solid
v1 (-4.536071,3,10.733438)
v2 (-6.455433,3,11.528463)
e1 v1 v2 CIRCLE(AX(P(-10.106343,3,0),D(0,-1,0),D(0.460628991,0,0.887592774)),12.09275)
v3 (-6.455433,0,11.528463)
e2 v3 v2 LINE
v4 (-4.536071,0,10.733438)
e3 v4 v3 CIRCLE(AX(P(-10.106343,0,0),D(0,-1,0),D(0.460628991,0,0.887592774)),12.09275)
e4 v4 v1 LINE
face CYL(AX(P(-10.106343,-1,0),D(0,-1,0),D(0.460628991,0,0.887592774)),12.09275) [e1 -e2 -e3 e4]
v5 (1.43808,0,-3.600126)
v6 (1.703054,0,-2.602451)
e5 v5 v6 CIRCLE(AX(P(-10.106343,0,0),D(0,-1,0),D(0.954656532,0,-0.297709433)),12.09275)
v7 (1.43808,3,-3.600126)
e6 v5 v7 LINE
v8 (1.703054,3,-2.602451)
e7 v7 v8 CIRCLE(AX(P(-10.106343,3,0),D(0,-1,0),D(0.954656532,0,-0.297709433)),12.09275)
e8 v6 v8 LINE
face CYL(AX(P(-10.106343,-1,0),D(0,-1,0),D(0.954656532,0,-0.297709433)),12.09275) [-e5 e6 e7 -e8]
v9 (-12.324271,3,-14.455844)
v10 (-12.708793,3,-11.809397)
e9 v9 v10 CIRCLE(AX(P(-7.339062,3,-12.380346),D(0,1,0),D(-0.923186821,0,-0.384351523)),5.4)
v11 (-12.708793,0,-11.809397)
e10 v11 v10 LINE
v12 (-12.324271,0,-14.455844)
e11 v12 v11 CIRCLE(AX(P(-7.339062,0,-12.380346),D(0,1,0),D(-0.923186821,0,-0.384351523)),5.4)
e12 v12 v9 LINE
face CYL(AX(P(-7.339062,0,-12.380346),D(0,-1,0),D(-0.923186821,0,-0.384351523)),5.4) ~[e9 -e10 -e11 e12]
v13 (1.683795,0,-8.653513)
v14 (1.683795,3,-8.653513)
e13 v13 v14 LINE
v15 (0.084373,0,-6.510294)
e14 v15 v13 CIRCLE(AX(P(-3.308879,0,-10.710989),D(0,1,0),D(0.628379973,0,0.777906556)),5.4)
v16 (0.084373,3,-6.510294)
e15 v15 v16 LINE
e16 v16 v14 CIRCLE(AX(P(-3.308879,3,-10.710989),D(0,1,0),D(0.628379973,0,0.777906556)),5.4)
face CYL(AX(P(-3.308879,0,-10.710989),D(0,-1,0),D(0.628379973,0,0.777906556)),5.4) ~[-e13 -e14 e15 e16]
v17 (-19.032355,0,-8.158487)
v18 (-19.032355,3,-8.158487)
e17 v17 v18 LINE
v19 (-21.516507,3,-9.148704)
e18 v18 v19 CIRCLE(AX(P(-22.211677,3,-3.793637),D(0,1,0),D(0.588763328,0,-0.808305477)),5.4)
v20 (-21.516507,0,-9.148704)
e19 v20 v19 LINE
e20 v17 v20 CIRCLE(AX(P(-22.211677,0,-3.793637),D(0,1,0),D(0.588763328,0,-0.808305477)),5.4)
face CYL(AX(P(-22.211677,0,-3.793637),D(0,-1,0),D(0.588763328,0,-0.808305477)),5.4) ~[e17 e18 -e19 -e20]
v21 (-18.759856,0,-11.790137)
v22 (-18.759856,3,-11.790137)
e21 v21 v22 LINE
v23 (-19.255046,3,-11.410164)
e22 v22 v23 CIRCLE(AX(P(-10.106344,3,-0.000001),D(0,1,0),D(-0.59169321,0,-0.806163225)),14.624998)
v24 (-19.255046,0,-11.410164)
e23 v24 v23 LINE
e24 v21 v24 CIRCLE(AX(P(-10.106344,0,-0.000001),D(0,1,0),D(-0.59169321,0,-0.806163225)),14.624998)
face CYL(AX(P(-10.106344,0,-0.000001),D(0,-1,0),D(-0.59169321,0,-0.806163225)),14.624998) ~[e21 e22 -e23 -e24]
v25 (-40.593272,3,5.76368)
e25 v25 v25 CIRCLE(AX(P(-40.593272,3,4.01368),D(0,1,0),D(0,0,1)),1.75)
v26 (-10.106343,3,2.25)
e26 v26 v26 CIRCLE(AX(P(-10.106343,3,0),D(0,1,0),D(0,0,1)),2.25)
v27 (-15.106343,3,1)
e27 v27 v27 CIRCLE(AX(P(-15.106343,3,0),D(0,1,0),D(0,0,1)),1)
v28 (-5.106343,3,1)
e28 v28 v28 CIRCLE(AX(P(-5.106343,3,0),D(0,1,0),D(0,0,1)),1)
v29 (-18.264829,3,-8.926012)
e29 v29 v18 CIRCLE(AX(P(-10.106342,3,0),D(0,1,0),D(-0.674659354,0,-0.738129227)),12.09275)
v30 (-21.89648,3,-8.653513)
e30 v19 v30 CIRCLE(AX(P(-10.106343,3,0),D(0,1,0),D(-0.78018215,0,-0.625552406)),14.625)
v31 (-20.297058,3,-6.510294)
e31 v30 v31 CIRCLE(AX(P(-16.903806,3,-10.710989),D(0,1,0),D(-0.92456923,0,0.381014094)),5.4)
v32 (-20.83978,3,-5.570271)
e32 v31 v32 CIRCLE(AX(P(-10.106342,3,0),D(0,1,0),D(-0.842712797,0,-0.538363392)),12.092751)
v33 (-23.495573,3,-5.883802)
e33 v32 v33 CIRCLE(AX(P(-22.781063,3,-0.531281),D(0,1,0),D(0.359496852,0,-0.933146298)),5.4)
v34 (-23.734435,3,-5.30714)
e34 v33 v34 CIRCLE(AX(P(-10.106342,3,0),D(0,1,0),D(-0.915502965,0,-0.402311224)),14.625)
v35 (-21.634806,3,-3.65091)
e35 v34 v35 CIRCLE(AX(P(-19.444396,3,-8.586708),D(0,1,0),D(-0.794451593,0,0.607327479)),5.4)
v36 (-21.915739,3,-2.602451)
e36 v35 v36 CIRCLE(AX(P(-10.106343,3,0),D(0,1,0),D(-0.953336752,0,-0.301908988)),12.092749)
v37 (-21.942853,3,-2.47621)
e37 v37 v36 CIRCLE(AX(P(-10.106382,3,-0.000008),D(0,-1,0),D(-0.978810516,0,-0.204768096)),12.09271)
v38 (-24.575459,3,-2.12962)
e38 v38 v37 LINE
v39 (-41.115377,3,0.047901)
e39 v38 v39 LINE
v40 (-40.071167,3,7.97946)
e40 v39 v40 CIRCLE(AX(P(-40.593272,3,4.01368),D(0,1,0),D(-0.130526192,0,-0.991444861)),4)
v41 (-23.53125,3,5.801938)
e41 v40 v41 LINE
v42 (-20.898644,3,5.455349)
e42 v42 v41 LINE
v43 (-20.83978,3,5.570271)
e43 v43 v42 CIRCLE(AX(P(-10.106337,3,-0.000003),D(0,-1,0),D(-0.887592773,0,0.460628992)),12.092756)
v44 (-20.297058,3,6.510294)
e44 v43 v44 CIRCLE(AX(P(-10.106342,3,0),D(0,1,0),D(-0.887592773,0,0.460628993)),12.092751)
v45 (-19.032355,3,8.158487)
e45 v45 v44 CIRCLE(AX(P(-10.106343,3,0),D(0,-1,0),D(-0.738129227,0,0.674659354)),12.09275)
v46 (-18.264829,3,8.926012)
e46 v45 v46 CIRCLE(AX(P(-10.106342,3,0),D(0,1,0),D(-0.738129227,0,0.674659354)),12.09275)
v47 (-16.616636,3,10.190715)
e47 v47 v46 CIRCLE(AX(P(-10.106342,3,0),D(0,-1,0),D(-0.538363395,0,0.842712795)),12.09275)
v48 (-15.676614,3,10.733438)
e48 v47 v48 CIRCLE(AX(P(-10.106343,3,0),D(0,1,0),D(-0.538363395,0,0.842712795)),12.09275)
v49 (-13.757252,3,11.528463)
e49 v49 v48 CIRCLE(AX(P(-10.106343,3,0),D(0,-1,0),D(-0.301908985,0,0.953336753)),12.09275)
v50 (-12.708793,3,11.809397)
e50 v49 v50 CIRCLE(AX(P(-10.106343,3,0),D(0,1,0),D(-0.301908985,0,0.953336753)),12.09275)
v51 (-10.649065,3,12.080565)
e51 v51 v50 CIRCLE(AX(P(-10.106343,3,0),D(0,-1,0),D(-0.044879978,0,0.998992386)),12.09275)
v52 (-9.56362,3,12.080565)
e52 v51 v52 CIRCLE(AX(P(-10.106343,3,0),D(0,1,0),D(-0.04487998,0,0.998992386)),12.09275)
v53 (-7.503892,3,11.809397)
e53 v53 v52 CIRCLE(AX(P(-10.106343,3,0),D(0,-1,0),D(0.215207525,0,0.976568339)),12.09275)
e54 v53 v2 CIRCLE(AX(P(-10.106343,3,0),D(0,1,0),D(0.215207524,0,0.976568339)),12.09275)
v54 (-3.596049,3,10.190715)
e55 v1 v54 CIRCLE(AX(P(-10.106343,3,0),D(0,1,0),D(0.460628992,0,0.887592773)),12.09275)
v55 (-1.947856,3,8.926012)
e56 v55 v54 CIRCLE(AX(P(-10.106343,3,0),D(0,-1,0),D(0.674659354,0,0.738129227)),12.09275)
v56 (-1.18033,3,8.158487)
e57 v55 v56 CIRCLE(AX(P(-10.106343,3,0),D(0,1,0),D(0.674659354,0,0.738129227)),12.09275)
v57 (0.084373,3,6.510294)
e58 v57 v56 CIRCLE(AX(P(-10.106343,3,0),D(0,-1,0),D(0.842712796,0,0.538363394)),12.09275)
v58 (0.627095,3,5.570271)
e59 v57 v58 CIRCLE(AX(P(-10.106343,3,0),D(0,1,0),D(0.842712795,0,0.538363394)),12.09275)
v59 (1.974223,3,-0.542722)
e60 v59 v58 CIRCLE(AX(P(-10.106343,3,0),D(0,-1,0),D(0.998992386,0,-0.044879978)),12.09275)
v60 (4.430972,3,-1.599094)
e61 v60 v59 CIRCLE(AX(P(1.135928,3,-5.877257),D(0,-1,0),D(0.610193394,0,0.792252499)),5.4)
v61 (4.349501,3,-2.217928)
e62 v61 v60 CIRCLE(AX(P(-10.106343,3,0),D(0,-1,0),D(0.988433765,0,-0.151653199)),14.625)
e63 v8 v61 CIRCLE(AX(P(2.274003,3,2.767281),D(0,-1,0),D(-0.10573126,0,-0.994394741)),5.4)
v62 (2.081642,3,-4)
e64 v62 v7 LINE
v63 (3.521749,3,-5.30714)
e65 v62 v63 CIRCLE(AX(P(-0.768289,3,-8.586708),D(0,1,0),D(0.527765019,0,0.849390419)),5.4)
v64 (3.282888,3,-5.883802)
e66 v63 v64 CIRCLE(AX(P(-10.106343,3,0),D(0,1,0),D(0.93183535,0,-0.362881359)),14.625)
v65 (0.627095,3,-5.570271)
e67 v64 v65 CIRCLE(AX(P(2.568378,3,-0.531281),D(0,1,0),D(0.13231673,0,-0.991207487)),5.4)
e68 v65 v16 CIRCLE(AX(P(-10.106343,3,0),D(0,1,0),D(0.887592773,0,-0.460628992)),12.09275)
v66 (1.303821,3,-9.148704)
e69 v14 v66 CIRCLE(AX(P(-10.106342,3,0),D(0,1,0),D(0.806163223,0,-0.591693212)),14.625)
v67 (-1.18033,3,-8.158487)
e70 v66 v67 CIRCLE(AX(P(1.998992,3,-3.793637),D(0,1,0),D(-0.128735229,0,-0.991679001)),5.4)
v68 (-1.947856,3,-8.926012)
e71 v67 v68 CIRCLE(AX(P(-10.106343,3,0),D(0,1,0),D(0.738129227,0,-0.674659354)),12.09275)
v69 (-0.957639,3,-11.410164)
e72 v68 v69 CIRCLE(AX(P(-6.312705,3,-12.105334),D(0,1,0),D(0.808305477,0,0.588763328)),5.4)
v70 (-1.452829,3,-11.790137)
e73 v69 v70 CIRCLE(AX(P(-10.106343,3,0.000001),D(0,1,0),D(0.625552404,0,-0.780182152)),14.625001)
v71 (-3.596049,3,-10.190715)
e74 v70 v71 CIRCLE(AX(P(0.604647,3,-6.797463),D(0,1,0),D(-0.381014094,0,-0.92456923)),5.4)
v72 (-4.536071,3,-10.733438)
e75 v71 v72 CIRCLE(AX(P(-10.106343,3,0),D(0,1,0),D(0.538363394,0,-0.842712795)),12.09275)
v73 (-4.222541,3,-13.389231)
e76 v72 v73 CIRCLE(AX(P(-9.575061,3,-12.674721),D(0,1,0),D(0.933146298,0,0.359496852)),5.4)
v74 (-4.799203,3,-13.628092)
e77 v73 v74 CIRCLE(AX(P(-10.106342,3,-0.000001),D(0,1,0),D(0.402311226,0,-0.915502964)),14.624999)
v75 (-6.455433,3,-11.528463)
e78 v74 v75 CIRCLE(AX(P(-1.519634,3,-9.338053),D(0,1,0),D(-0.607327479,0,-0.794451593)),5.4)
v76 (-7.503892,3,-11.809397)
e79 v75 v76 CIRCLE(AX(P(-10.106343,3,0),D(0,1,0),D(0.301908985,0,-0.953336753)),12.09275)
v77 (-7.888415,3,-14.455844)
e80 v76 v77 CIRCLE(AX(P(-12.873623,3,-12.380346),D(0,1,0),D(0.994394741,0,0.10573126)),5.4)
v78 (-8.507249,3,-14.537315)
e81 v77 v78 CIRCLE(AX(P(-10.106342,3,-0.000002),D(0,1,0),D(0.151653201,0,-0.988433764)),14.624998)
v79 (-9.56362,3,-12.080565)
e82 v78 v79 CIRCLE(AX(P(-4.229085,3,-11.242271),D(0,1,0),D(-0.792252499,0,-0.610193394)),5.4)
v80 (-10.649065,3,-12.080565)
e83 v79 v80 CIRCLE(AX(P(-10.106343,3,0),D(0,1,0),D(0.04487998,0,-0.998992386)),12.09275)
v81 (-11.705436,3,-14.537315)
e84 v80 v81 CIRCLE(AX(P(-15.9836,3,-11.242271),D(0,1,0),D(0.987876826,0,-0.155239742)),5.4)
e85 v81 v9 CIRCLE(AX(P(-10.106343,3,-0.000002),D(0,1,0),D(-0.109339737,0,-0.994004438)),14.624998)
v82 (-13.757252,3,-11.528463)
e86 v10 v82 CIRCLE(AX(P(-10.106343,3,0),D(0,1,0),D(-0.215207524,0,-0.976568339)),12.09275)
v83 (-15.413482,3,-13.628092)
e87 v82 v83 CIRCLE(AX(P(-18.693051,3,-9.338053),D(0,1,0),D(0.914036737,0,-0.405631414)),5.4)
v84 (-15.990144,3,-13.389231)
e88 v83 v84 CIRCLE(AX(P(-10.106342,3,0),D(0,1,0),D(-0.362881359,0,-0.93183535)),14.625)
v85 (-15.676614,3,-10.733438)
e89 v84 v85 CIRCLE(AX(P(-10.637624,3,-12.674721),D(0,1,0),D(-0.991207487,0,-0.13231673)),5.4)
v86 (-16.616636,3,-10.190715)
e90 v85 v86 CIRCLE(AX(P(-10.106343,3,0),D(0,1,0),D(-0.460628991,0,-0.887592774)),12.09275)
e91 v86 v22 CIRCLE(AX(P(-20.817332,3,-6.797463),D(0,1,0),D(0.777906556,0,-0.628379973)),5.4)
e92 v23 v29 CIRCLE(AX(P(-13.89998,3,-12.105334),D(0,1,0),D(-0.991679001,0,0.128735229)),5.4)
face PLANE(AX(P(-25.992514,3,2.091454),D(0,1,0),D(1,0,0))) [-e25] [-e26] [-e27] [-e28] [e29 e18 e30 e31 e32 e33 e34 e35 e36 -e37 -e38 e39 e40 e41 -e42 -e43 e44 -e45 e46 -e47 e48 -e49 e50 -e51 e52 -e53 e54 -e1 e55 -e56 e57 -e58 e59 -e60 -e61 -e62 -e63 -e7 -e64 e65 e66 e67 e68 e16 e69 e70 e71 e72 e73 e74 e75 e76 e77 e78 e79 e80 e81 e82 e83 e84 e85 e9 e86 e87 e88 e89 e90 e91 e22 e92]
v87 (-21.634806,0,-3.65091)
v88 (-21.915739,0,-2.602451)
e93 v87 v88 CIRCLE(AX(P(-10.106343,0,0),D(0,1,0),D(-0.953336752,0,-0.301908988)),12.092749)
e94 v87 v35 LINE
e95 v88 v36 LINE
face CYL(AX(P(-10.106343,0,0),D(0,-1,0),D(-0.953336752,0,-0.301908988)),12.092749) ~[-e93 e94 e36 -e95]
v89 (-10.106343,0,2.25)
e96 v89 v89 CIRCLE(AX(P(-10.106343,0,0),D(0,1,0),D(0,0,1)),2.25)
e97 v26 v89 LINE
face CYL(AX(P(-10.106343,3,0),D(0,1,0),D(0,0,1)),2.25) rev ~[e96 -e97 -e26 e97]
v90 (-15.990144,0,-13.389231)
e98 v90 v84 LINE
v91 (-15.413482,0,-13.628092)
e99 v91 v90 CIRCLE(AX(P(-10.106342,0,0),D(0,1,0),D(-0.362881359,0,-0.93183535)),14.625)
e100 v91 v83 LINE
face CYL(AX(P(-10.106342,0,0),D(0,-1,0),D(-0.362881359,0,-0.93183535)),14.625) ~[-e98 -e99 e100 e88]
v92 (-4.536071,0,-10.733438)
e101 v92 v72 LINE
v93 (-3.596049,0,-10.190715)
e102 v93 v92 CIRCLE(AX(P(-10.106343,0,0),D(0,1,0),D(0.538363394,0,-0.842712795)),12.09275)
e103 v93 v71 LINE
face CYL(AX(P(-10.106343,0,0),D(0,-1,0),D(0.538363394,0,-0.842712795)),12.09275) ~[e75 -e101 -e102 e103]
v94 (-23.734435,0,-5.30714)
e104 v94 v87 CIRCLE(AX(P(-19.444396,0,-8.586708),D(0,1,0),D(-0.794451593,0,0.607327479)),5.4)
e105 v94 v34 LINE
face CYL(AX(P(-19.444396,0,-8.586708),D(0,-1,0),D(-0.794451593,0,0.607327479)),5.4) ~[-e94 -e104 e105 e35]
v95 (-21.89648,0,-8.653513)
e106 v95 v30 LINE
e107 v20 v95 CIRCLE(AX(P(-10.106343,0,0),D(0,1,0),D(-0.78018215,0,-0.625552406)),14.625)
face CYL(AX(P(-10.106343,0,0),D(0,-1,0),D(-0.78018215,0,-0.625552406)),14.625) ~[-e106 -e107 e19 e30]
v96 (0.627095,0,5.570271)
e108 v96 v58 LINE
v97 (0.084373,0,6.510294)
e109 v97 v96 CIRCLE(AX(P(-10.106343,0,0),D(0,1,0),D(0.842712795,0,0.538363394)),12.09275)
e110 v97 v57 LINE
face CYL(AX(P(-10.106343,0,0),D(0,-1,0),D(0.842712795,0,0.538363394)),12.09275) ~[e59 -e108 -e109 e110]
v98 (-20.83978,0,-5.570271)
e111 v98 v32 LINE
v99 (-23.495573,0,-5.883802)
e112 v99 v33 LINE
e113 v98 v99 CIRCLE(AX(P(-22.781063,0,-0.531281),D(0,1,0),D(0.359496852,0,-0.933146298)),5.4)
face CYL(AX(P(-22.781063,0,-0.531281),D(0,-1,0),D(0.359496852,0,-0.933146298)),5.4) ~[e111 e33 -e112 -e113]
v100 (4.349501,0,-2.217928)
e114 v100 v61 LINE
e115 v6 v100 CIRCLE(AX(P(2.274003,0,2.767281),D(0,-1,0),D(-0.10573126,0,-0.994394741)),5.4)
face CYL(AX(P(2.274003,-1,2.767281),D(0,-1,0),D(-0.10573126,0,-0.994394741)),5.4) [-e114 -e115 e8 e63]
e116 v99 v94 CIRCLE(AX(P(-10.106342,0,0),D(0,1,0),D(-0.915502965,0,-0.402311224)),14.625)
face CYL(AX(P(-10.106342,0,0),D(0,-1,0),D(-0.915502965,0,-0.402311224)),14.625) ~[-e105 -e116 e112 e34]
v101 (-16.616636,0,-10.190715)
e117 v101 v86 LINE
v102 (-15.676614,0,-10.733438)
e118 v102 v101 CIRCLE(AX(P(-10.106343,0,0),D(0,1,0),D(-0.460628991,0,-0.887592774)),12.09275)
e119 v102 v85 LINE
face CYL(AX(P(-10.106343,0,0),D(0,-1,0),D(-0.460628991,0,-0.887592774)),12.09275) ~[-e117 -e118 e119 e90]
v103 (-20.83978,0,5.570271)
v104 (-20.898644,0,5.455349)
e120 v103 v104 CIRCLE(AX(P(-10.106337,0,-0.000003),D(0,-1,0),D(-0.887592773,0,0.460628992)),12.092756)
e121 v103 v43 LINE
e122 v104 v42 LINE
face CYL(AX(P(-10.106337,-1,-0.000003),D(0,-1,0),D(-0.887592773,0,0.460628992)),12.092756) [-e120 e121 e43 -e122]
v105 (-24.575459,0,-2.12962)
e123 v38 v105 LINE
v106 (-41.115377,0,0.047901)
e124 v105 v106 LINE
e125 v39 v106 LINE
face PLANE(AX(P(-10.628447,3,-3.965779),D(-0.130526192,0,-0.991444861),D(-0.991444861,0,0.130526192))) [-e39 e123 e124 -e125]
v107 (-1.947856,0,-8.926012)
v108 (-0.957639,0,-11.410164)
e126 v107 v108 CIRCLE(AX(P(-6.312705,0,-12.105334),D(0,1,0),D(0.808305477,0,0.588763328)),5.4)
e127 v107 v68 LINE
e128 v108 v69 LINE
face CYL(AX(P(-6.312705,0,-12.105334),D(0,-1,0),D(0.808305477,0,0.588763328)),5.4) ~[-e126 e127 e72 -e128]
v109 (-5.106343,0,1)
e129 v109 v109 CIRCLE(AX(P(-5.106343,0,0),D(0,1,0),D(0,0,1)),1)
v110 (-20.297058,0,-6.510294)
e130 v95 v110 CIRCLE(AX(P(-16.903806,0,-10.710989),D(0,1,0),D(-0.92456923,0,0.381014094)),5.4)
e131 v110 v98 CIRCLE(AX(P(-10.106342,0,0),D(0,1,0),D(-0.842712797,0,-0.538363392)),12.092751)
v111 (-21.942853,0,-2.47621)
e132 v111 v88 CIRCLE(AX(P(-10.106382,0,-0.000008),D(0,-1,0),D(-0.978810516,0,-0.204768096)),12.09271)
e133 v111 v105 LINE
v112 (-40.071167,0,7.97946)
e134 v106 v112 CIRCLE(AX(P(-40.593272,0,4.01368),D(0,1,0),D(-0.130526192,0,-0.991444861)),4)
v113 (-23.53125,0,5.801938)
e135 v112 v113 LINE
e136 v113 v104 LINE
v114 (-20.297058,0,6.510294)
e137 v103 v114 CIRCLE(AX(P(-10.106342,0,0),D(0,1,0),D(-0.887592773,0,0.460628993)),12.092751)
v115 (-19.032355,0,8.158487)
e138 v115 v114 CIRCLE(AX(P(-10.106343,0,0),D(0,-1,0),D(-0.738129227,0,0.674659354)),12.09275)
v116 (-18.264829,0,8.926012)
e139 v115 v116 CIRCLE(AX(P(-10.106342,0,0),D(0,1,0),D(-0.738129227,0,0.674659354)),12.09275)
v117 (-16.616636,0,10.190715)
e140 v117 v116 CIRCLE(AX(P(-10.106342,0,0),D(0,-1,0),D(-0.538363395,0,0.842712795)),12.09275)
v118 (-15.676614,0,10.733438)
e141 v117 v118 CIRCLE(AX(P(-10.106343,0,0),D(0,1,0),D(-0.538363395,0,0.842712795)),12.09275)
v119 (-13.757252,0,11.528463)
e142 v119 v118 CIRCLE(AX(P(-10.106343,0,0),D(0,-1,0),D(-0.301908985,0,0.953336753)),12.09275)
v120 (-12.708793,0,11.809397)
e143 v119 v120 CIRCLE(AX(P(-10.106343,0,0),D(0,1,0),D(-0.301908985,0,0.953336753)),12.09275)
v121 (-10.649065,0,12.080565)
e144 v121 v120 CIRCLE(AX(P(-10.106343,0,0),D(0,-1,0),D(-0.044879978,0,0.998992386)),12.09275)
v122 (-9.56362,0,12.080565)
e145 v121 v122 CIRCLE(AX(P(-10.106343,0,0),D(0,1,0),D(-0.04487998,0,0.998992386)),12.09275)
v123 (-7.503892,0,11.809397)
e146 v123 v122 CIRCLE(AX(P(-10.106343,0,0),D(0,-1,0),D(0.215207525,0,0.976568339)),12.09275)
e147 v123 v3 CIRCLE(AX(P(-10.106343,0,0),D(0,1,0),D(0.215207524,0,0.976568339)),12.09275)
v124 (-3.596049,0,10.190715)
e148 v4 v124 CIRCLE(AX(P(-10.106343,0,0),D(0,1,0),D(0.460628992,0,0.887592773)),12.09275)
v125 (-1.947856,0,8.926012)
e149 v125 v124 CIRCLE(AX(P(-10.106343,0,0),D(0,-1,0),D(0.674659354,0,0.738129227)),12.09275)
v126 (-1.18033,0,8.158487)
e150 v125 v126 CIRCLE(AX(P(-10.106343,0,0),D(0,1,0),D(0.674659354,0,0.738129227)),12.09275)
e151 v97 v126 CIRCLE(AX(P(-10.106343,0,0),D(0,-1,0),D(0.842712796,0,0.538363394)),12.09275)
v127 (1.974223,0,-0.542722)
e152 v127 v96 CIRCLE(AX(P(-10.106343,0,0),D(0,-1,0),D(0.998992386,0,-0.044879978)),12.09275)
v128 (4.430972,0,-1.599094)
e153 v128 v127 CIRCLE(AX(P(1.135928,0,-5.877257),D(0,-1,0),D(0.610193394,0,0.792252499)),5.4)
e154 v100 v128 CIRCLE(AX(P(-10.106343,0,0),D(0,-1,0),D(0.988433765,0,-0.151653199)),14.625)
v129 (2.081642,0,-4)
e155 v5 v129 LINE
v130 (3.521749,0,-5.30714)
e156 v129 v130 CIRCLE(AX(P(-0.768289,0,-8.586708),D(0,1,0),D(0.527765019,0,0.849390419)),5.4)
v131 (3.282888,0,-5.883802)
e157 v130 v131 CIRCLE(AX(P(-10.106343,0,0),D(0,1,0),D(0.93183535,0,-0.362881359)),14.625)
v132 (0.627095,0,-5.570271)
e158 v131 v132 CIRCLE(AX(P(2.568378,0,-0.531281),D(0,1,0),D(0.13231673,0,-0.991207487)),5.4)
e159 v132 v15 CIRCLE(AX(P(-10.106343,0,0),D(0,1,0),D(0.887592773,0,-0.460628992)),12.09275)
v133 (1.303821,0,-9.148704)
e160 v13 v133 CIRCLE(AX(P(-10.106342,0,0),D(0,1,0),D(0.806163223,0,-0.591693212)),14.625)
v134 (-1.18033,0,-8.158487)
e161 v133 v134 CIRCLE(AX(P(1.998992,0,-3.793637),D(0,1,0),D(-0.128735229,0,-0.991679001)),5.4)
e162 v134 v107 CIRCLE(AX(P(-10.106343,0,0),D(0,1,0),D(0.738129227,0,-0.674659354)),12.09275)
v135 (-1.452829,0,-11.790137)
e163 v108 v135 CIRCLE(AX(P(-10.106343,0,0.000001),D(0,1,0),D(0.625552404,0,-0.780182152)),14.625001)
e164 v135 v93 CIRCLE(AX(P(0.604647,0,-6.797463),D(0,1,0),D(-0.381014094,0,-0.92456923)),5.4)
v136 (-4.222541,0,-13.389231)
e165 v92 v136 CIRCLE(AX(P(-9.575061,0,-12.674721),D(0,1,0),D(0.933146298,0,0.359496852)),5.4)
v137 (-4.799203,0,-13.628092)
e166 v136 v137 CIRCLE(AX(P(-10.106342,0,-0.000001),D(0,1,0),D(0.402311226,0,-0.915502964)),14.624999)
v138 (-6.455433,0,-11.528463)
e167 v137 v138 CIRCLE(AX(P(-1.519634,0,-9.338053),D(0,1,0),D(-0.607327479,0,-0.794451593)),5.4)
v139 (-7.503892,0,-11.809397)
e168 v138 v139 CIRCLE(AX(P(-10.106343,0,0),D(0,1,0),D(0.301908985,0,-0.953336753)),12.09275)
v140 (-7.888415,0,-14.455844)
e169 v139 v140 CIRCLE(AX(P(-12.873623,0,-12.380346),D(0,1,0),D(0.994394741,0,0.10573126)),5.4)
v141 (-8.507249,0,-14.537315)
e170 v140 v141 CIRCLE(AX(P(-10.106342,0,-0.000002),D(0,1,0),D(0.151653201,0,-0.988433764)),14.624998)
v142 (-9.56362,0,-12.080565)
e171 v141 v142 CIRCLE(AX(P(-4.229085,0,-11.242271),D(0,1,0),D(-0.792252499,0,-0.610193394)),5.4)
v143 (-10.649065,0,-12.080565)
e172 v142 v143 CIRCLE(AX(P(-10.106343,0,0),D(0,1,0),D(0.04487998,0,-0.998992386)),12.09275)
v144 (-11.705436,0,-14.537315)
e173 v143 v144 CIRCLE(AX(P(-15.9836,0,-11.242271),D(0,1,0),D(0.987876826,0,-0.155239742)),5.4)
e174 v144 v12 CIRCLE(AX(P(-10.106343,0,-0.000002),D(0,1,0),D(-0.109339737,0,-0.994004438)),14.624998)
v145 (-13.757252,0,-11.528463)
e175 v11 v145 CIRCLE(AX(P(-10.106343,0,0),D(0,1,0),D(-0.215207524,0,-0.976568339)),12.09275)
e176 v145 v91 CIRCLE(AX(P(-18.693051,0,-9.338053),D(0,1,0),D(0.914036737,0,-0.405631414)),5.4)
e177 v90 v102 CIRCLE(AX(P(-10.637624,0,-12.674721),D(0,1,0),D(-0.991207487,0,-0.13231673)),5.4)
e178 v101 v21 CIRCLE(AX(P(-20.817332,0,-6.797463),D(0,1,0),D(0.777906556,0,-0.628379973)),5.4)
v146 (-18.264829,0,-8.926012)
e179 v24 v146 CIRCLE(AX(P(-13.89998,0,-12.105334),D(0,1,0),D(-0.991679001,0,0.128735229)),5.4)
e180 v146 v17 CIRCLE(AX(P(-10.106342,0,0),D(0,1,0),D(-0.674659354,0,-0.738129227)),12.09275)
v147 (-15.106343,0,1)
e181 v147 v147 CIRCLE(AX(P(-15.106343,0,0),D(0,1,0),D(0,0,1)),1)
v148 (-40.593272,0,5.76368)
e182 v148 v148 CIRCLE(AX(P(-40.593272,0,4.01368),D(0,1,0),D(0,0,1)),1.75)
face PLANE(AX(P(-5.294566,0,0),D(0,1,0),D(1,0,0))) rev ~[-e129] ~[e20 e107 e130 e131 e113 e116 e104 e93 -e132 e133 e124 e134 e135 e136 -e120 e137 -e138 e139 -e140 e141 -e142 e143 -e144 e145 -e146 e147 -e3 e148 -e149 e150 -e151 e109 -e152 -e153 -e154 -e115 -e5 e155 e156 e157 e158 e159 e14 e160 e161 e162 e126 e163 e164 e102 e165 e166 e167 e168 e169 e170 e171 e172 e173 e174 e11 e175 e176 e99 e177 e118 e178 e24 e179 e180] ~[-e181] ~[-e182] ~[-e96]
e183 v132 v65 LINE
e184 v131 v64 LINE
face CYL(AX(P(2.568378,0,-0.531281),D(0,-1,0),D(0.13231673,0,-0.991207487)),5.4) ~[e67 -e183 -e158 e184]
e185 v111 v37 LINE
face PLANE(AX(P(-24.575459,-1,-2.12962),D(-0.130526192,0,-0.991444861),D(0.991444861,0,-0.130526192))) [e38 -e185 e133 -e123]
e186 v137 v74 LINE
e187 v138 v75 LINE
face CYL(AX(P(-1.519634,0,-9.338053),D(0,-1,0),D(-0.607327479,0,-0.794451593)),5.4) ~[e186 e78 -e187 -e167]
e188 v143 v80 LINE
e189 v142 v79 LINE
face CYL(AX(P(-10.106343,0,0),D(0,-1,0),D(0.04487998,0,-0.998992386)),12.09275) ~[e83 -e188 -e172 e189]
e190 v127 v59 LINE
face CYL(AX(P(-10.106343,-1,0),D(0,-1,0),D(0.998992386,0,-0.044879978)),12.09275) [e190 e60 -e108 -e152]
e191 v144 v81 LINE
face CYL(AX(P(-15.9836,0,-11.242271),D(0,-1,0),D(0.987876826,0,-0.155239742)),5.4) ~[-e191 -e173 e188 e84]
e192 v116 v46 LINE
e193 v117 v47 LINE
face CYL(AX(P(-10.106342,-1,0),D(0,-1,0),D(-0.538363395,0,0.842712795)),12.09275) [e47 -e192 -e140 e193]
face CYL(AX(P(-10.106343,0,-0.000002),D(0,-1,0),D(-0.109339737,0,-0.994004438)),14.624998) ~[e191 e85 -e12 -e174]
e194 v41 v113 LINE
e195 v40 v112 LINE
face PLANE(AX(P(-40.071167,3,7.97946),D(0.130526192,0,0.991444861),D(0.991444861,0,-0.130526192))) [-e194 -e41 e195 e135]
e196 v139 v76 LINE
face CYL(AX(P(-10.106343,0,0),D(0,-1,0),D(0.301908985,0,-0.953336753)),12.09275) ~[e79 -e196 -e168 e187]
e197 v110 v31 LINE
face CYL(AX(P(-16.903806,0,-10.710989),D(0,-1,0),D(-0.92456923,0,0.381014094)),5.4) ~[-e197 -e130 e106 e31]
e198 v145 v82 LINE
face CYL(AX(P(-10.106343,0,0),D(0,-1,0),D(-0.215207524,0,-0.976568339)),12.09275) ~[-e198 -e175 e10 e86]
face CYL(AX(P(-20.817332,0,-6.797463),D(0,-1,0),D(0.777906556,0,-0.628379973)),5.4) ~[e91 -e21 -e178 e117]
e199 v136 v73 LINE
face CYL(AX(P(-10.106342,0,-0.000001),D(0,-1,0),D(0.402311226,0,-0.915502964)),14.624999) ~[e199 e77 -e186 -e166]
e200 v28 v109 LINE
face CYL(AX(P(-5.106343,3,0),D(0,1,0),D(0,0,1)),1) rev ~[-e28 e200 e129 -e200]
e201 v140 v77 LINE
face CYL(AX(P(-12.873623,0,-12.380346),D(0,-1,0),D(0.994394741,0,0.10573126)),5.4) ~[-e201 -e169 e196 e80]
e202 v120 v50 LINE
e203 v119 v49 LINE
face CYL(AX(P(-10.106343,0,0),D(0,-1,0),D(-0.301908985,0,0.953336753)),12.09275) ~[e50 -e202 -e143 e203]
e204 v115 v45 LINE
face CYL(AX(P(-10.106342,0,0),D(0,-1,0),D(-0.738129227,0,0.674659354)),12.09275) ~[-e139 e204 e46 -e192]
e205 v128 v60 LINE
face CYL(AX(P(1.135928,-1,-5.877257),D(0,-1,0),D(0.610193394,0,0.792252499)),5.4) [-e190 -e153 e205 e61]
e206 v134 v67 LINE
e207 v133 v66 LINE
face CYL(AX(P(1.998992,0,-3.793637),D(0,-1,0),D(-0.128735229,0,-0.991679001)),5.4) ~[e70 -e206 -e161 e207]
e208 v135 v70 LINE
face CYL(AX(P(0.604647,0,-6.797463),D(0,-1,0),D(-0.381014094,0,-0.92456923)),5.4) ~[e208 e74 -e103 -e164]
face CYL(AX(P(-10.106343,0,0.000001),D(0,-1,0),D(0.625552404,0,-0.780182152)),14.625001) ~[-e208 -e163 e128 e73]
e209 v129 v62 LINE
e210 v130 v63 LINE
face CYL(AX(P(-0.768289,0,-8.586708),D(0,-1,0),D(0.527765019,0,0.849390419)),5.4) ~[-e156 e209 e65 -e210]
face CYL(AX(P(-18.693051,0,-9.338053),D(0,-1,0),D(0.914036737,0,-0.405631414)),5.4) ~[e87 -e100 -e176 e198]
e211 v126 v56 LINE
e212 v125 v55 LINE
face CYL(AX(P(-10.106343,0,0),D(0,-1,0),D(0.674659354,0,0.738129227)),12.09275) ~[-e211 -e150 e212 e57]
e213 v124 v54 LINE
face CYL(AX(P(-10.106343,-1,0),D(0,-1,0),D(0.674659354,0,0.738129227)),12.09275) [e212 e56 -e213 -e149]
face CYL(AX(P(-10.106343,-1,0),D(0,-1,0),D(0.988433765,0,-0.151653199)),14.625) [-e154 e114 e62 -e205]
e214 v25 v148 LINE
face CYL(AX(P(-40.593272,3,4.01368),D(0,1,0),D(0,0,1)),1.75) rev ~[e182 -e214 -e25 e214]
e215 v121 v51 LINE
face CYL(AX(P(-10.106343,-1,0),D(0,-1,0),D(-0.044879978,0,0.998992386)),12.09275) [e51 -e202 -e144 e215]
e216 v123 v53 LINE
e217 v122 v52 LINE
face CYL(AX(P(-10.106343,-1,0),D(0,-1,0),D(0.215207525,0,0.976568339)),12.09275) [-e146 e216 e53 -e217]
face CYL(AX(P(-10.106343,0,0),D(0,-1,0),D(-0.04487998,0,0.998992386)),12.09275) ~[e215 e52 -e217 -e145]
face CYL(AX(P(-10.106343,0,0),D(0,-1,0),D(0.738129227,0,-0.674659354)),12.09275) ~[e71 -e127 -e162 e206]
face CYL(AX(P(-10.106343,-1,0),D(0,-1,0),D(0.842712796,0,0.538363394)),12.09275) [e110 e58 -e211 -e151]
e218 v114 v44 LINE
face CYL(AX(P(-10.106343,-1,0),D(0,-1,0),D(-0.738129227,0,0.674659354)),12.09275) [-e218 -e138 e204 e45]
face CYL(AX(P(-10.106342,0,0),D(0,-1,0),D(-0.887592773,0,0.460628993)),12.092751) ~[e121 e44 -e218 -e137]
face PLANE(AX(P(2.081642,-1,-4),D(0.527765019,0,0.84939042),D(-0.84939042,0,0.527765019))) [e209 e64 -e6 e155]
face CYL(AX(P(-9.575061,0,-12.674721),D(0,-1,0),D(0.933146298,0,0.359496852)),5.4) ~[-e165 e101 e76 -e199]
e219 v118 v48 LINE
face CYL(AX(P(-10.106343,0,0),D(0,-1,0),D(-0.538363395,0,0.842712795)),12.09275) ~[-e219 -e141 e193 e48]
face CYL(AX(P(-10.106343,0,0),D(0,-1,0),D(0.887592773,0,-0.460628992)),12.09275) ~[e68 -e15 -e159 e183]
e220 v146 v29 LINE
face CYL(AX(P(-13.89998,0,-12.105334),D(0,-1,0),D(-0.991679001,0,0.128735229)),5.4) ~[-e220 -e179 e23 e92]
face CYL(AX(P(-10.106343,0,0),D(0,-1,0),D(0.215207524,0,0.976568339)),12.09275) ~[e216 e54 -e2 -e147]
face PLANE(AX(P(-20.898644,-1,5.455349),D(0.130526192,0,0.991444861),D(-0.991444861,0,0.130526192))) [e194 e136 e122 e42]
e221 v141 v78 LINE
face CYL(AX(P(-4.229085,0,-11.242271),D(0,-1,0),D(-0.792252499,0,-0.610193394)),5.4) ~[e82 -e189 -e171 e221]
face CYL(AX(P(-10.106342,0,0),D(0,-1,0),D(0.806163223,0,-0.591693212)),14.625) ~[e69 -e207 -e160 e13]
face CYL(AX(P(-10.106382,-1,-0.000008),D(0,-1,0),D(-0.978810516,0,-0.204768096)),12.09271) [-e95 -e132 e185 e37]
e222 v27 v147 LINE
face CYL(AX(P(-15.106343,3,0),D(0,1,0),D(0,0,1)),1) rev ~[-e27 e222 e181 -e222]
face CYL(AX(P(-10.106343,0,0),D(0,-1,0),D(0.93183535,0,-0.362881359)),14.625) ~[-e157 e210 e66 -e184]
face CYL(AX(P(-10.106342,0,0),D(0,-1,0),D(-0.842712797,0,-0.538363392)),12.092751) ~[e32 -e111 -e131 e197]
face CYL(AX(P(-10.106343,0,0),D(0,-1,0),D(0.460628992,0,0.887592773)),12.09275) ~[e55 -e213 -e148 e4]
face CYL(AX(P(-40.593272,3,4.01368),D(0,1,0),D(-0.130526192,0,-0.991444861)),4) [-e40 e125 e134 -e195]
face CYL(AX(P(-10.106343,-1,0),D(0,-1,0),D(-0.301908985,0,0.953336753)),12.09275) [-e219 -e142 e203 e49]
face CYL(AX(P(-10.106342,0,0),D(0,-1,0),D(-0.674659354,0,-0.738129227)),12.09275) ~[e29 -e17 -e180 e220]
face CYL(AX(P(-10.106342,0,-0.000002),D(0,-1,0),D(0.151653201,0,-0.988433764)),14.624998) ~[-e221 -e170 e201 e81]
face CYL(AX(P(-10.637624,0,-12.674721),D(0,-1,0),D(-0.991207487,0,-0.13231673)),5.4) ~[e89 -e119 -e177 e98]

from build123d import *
from build123d.topology import SkipClean

# Parameters (mm, degrees)
SKETCH1_R           = 1.5
BOSS_EXTRUDE1_DEPTH = 3
SKETCH3_R           = 1.75
BOSS_EXTRUDE2_DEPTH = 3
CUT_EXTRUDE1_START  = -4
CUT_EXTRUDE1_DEPTH  = 4
CUT_EXTRUDE2_REACH  = 48.999
SKETCH5_R           = 1
SKETCH5_R_2         = 2.25


with BuildPart() as part:
    # Sketch1 → Boss-Extrude1 (new body)
    with BuildSketch(Plane(origin=(0, 0, 0), x_dir=(1, 0, 0), z_dir=(0, 1, 0))):
        with BuildLine():
            Line((20.643657446, 4), (2.081641936, 4))
            ThreePointArc((2.081641936, 4), (2.861028333, 4.588201733), (3.521749436, 5.30713988))
            ThreePointArc((3.521749436, 5.30713988), (3.405395609, 5.596745198), (3.282888305, 5.883801663))
            ThreePointArc((3.282888305, 5.883801663), (1.93527598, 5.894040025), (0.627094961, 5.57027124))
            ThreePointArc((0.627094961, 5.57027124), (0.366286148, 6.046375), (0.084372603, 6.510293938))
            ThreePointArc((0.084372603, 6.510293938), (1.018855105, 7.48132754), (1.683794586, 8.65351323))
            ThreePointArc((1.683794586, 8.65351323), (1.496450048, 8.903135899), (1.303821399, 9.148703928))
            ThreePointArc((1.303821399, 9.148703928), (-0.000522033, 8.809805691), (-1.180330337, 8.158486898))
            ThreePointArc((-1.180330337, 8.158486898), (-1.555477026, 8.550865528), (-1.947855656, 8.926012217))
            ThreePointArc((-1.947855656, 8.926012217), (-1.296536862, 10.105820521), (-0.957638625, 11.410163953))
            ThreePointArc((-0.957638625, 11.410163953), (-1.203206655, 11.602792602), (-1.452829324, 11.79013714))
            ThreePointArc((-1.452829324, 11.79013714), (-2.625015014, 11.125197659), (-3.596048616, 10.190715157))
            ThreePointArc((-3.596048616, 10.190715157), (-4.059967554, 10.472628702), (-4.536071314, 10.733437515))
            ThreePointArc((-4.536071314, 10.733437515), (-4.212302529, 12.041618533), (-4.222540891, 13.389230859))
            ThreePointArc((-4.222540891, 13.389230859), (-4.509597355, 13.511738163), (-4.799202674, 13.62809199))
            ThreePointArc((-4.799202674, 13.62809199), (-5.759348103, 12.682425791), (-6.455432668, 11.528463019))
            ThreePointArc((-6.455432668, 11.528463019), (-6.976508546, 11.680699536), (-7.503891752, 11.809396783))
            ThreePointArc((-7.503891752, 11.809396783), (-7.529737283, 13.156800143), (-7.888414517, 14.455843809))
            ThreePointArc((-7.888414517, 14.455843809), (-8.197396993, 14.499881098), (-8.507248835, 14.537314892))
            ThreePointArc((-8.507248835, 14.537314892), (-9.18992168, 13.375367565), (-9.563620196, 12.080565177))
            ThreePointArc((-9.563620196, 12.080565177), (-10.106342554, 12.09275), (-10.649064912, 12.080565177))
            ThreePointArc((-10.649064912, 12.080565177), (-11.022763428, 13.375367565), (-11.705436272, 14.537314892))
            ThreePointArc((-11.705436272, 14.537314892), (-12.015288115, 14.499881098), (-12.324270591, 14.455843809))
            ThreePointArc((-12.324270591, 14.455843809), (-12.682947825, 13.156800143), (-12.708793355, 11.809396783))
            ThreePointArc((-12.708793355, 11.809396783), (-13.236176561, 11.680699536), (-13.757252439, 11.528463019))
            ThreePointArc((-13.757252439, 11.528463019), (-14.453337005, 12.682425791), (-15.413482434, 13.62809199))
            ThreePointArc((-15.413482434, 13.62809199), (-15.703087752, 13.511738163), (-15.990144217, 13.389230859))
            ThreePointArc((-15.990144217, 13.389230859), (-16.000382579, 12.041618533), (-15.676613793, 10.733437515))
            ThreePointArc((-15.676613793, 10.733437515), (-16.152717554, 10.472628702), (-16.616636492, 10.190715157))
            ThreePointArc((-16.616636492, 10.190715157), (-17.587670094, 11.125197659), (-18.759855783, 11.79013714))
            ThreePointArc((-18.759855783, 11.79013714), (-19.009478453, 11.602792602), (-19.255046482, 11.410163953))
            ThreePointArc((-19.255046482, 11.410163953), (-18.916148245, 10.105820521), (-18.264829452, 8.926012217))
            ThreePointArc((-18.264829452, 8.926012217), (-18.657208082, 8.550865528), (-19.032354771, 8.158486898))
            ThreePointArc((-19.032354771, 8.158486898), (-20.212163074, 8.809805691), (-21.516506507, 9.148703928))
            ThreePointArc((-21.516506507, 9.148703928), (-21.709135156, 8.903135899), (-21.896479694, 8.65351323))
            ThreePointArc((-21.896479694, 8.65351323), (-21.231540213, 7.48132754), (-20.297057711, 6.510293938))
            ThreePointArc((-20.297057711, 6.510293938), (-20.578971255, 6.046375), (-20.839780068, 5.57027124))
            ThreePointArc((-20.839780068, 5.57027124), (-22.147961087, 5.894040025), (-23.495573413, 5.883801663))
            ThreePointArc((-23.495573413, 5.883801663), (-23.618080717, 5.596745198), (-23.734434544, 5.30713988))
            ThreePointArc((-23.734434544, 5.30713988), (-22.788768345, 4.346994451), (-21.634805572, 3.650909885))
            ThreePointArc((-21.634805572, 3.650909885), (-21.78704209, 3.129834008), (-21.915739337, 2.602450802))
            ThreePointArc((-21.915739337, 2.602450802), (-23.263142697, 2.576605271), (-24.562186363, 2.217928037))
            ThreePointArc((-24.562186363, 2.217928037), (-24.606223651, 1.908945561), (-24.643657446, 1.599093719))
            ThreePointArc((-24.643657446, 1.599093719), (-23.481710119, 0.916420874), (-22.186907731, 0.542722358))
            ThreePointArc((-22.186907731, 0.542722358), (-22.199092554, 0), (-22.186907731, -0.542722358))
            ThreePointArc((-22.186907731, -0.542722358), (-23.481710119, -0.916420874), (-24.643657446, -1.599093719))
            ThreePointArc((-24.643657446, -1.599093719), (-24.606223651, -1.908945561), (-24.562186363, -2.217928037))
            ThreePointArc((-24.562186363, -2.217928037), (-23.263142697, -2.576605271), (-21.915739337, -2.602450802))
            ThreePointArc((-21.915739337, -2.602450802), (-21.78704209, -3.129834008), (-21.634805572, -3.650909885))
            ThreePointArc((-21.634805572, -3.650909885), (-22.788768345, -4.346994451), (-23.734434544, -5.30713988))
            ThreePointArc((-23.734434544, -5.30713988), (-23.618080717, -5.596745198), (-23.495573413, -5.883801663))
            ThreePointArc((-23.495573413, -5.883801663), (-22.147961087, -5.894040025), (-20.839780068, -5.57027124))
            ThreePointArc((-20.839780068, -5.57027124), (-20.578971255, -6.046375), (-20.297057711, -6.510293938))
            ThreePointArc((-20.297057711, -6.510293938), (-21.231540213, -7.48132754), (-21.896479694, -8.65351323))
            ThreePointArc((-21.896479694, -8.65351323), (-21.709135156, -8.903135899), (-21.516506507, -9.148703928))
            ThreePointArc((-21.516506507, -9.148703928), (-20.212163074, -8.809805691), (-19.032354771, -8.158486898))
            ThreePointArc((-19.032354771, -8.158486898), (-18.657208082, -8.550865528), (-18.264829452, -8.926012217))
            ThreePointArc((-18.264829452, -8.926012217), (-18.916148245, -10.105820521), (-19.255046482, -11.410163953))
            ThreePointArc((-19.255046482, -11.410163953), (-19.009478453, -11.602792602), (-18.759855783, -11.79013714))
            ThreePointArc((-18.759855783, -11.79013714), (-17.587670094, -11.125197659), (-16.616636492, -10.190715157))
            ThreePointArc((-16.616636492, -10.190715157), (-16.152717554, -10.472628702), (-15.676613793, -10.733437515))
            ThreePointArc((-15.676613793, -10.733437515), (-16.000382579, -12.041618533), (-15.990144217, -13.389230859))
            ThreePointArc((-15.990144217, -13.389230859), (-15.703087752, -13.511738163), (-15.413482434, -13.62809199))
            ThreePointArc((-15.413482434, -13.62809199), (-14.453337005, -12.682425791), (-13.757252439, -11.528463019))
            ThreePointArc((-13.757252439, -11.528463019), (-13.236176561, -11.680699536), (-12.708793355, -11.809396783))
            ThreePointArc((-12.708793355, -11.809396783), (-12.682947825, -13.156800143), (-12.324270591, -14.455843809))
            ThreePointArc((-12.324270591, -14.455843809), (-12.015288115, -14.499881098), (-11.705436272, -14.537314892))
            ThreePointArc((-11.705436272, -14.537314892), (-11.022763428, -13.375367565), (-10.649064912, -12.080565177))
            ThreePointArc((-10.649064912, -12.080565177), (-10.106342554, -12.09275), (-9.563620196, -12.080565177))
            ThreePointArc((-9.563620196, -12.080565177), (-9.18992168, -13.375367565), (-8.507248835, -14.537314892))
            ThreePointArc((-8.507248835, -14.537314892), (-8.197396993, -14.499881098), (-7.888414517, -14.455843809))
            ThreePointArc((-7.888414517, -14.455843809), (-7.529737283, -13.156800143), (-7.503891752, -11.809396783))
            ThreePointArc((-7.503891752, -11.809396783), (-6.976508546, -11.680699536), (-6.455432668, -11.528463019))
            ThreePointArc((-6.455432668, -11.528463019), (-5.759348103, -12.682425791), (-4.799202674, -13.62809199))
            ThreePointArc((-4.799202674, -13.62809199), (-4.509597355, -13.511738163), (-4.222540891, -13.389230859))
            ThreePointArc((-4.222540891, -13.389230859), (-4.212302529, -12.041618533), (-4.536071314, -10.733437515))
            ThreePointArc((-4.536071314, -10.733437515), (-4.059967554, -10.472628702), (-3.596048616, -10.190715157))
            ThreePointArc((-3.596048616, -10.190715157), (-2.625015014, -11.125197659), (-1.452829324, -11.79013714))
            ThreePointArc((-1.452829324, -11.79013714), (-1.203206655, -11.602792602), (-0.957638625, -11.410163953))
            ThreePointArc((-0.957638625, -11.410163953), (-1.296536862, -10.105820521), (-1.947855656, -8.926012217))
            ThreePointArc((-1.947855656, -8.926012217), (-1.555477026, -8.550865528), (-1.180330337, -8.158486898))
            ThreePointArc((-1.180330337, -8.158486898), (-0.000522033, -8.809805691), (1.303821399, -9.148703928))
            ThreePointArc((1.303821399, -9.148703928), (1.496450048, -8.903135899), (1.683794586, -8.65351323))
            ThreePointArc((1.683794586, -8.65351323), (1.018855105, -7.48132754), (0.084372603, -6.510293938))
            ThreePointArc((0.084372603, -6.510293938), (0.366286148, -6.046375), (0.627094961, -5.57027124))
            ThreePointArc((0.627094961, -5.57027124), (1.93527598, -5.894040025), (3.282888305, -5.883801663))
            ThreePointArc((3.282888305, -5.883801663), (3.405395609, -5.596745198), (3.521749436, -5.30713988))
            ThreePointArc((3.521749436, -5.30713988), (2.861028333, -4.588201733), (2.081641936, -4))
            Line((2.081641936, -4), (20.643657446, -4))
            ThreePointArc((20.643657446, -4), (24.643657446, 0), (20.643657446, 4))
        make_face()
        with Locations(Location((-10.106342554, 0, 0), (0, 0, 270))):
            Circle(SKETCH1_R, mode=Mode.SUBTRACT)
        with Locations(Location((20.643657446, 0, 0), (0, 0, 270))):
            Circle(SKETCH1_R, mode=Mode.SUBTRACT)
    extrude(amount=BOSS_EXTRUDE1_DEPTH)

    # Sketch3 → Boss-Extrude2 (add)
    with BuildSketch(Plane(origin=(0, 3, 0), x_dir=(1, 0, 0), z_dir=(0, 1, 0))):
        with BuildLine():
            ThreePointArc((-9.584237785, -3.965779445), (-14.072121999, -0.522104769), (-10.628447323, 3.965779445))
            Line((-10.628447323, 3.965779445), (-41.11537681, -0.047900965))
            ThreePointArc((-41.11537681, -0.047900965), (-44.559051487, -4.53578518), (-40.071167272, -7.979459856))
            Line((-40.071167272, -7.979459856), (-9.584237785, -3.965779445))
        make_face()
        with Locations(Location((-40.593272041, -4.013680411, 0), (0, 0, 270))):
            Circle(SKETCH3_R, mode=Mode.SUBTRACT)
    extrude(amount=-BOSS_EXTRUDE2_DEPTH)

    # Sketch4 → Cut-Extrude1 (cut)
    with SkipClean():  # the faces are left unmerged after this step: merging them gives an invalid solid
        with BuildSketch(Plane(origin=(0, 3, 0), x_dir=(1, 0, 0), z_dir=(0, 1, 0)).offset(CUT_EXTRUDE1_START)):
            with BuildLine():
                ThreePointArc((20.643657446, -4), (24.643657446, 0), (20.643657446, 4))
                Line((20.643657446, 4), (2.081641936, 4))
                Line((2.081641936, 4), (1.43808022, 3.600125745))
                ThreePointArc((1.43808022, 3.600125745), (1.581217534, 3.104116905), (1.70305423, 2.602450802))
                ThreePointArc((1.70305423, 2.602450802), (3.050457589, 2.576605271), (4.349501255, 2.217928037))
                ThreePointArc((4.349501255, 2.217928037), (4.393538544, 1.908945561), (4.430972339, 1.599093719))
                ThreePointArc((4.430972339, 1.599093719), (3.269025011, 0.916420874), (1.974222624, 0.542722358))
                ThreePointArc((1.974222624, 0.542722358), (1.70305423, -2.602450802), (0.627094961, -5.57027124))
                ThreePointArc((0.627094961, -5.57027124), (1.93527598, -5.894040025), (3.282888305, -5.883801663))
                ThreePointArc((3.282888305, -5.883801663), (3.405395609, -5.596745198), (3.521749436, -5.30713988))
                ThreePointArc((3.521749436, -5.30713988), (2.861028333, -4.588201733), (2.081641936, -4))
                Line((2.081641936, -4), (20.643657446, -4))
            make_face()
            with BuildLine():
                ThreePointArc((1.683794586, -8.65351323), (1.018855105, -7.48132754), (0.084372603, -6.510293938))
                ThreePointArc((0.084372603, -6.510293938), (-0.512518948, -7.361599771), (-1.180330337, -8.158486898))
                ThreePointArc((-1.180330337, -8.158486898), (-0.000522033, -8.809805691), (1.303821399, -9.148703928))
                ThreePointArc((1.303821399, -9.148703928), (1.496450048, -8.903135899), (1.683794586, -8.65351323))
            make_face()
            with BuildLine():
                ThreePointArc((-0.957638625, -11.410163953), (-1.296536862, -10.105820521), (-1.947855656, -8.926012217))
                ThreePointArc((-1.947855656, -8.926012217), (-2.744742783, -9.593823606), (-3.596048616, -10.190715157))
                ThreePointArc((-3.596048616, -10.190715157), (-2.625015014, -11.125197659), (-1.452829324, -11.79013714))
                ThreePointArc((-1.452829324, -11.79013714), (-1.203206655, -11.602792602), (-0.957638625, -11.410163953))
            make_face()
            with BuildLine():
                ThreePointArc((-4.222540891, -13.389230859), (-4.212302529, -12.041618533), (-4.536071314, -10.733437515))
                ThreePointArc((-4.536071314, -10.733437515), (-5.478647477, -11.172244217), (-6.455432668, -11.528463019))
                ThreePointArc((-6.455432668, -11.528463019), (-5.759348103, -12.682425791), (-4.799202674, -13.62809199))
                ThreePointArc((-4.799202674, -13.62809199), (-4.509597355, -13.511738163), (-4.222540891, -13.389230859))
            make_face()
            with BuildLine():
                ThreePointArc((-7.888414517, -14.455843809), (-7.529737283, -13.156800143), (-7.503891752, -11.809396783))
                ThreePointArc((-7.503891752, -11.809396783), (-8.527921943, -11.989294847), (-9.563620196, -12.080565177))
                ThreePointArc((-9.563620196, -12.080565177), (-9.18992168, -13.375367565), (-8.507248835, -14.537314892))
                ThreePointArc((-8.507248835, -14.537314892), (-8.197396993, -14.499881098), (-7.888414517, -14.455843809))
            make_face()
            with BuildLine():
                ThreePointArc((-11.705436272, -14.537314892), (-11.022763428, -13.375367565), (-10.649064912, -12.080565177))
                ThreePointArc((-10.649064912, -12.080565177), (-11.684763165, -11.989294847), (-12.708793355, -11.809396783))
                ThreePointArc((-12.708793355, -11.809396783), (-12.682947825, -13.156800143), (-12.324270591, -14.455843809))
                ThreePointArc((-12.324270591, -14.455843809), (-12.015288115, -14.499881098), (-11.705436272, -14.537314892))
            make_face()
            with BuildLine():
                ThreePointArc((-15.413482434, -13.62809199), (-14.453337005, -12.682425791), (-13.757252439, -11.528463019))
                ThreePointArc((-13.757252439, -11.528463019), (-14.734037631, -11.172244217), (-15.676613793, -10.733437515))
                ThreePointArc((-15.676613793, -10.733437515), (-16.000382579, -12.041618533), (-15.990144217, -13.389230859))
                ThreePointArc((-15.990144217, -13.389230859), (-15.703087752, -13.511738163), (-15.413482434, -13.62809199))
            make_face()
            with BuildLine():
                ThreePointArc((-18.759855783, -11.79013714), (-17.587670094, -11.125197659), (-16.616636492, -10.190715157))
                ThreePointArc((-16.616636492, -10.190715157), (-17.467942324, -9.593823606), (-18.264829452, -8.926012217))
                ThreePointArc((-18.264829452, -8.926012217), (-18.916148245, -10.105820521), (-19.255046482, -11.410163953))
                ThreePointArc((-19.255046482, -11.410163953), (-19.009478453, -11.602792602), (-18.759855783, -11.79013714))
            make_face()
            with BuildLine():
                ThreePointArc((-21.516506507, -9.148703928), (-20.212163074, -8.809805691), (-19.032354771, -8.158486898))
                ThreePointArc((-19.032354771, -8.158486898), (-19.70016616, -7.361599771), (-20.297057711, -6.510293938))
                ThreePointArc((-20.297057711, -6.510293938), (-21.231540213, -7.48132754), (-21.896479694, -8.65351323))
                ThreePointArc((-21.896479694, -8.65351323), (-21.709135156, -8.903135899), (-21.516506507, -9.148703928))
            make_face()
            with BuildLine():
                ThreePointArc((-21.942853375, 2.47620963), (-21.92946485, 2.539366405), (-21.915739337, 2.602450802))
                ThreePointArc((-21.915739337, 2.602450802), (-23.263142697, 2.576605271), (-24.562186363, 2.217928037))
                ThreePointArc((-24.562186363, 2.217928037), (-24.56889027, 2.173784387), (-24.575459377, 2.129620475))
                Line((-24.575459377, 2.129620475), (-21.942853375, 2.47620963))
            make_face()
            with BuildLine():
                ThreePointArc((-23.495573413, -5.883801663), (-22.147961087, -5.894040025), (-20.839780068, -5.57027124))
                ThreePointArc((-20.839780068, -5.57027124), (-20.869365339, -5.512888815), (-20.898643838, -5.455349261))
                Line((-20.898643838, -5.455349261), (-23.531249839, -5.801938416))
                ThreePointArc((-23.531249839, -5.801938416), (-23.513474108, -5.842897269), (-23.495573413, -5.883801663))
            make_face()
        extrude(amount=CUT_EXTRUDE1_DEPTH, mode=Mode.SUBTRACT)

    # Sketch5 → Cut-Extrude2 (cut, up to next)
    with BuildSketch(Plane(origin=(0, 3, 0), x_dir=(1, 0, 0), z_dir=(0, 1, 0)), mode=Mode.PRIVATE) as cut_extrude2_sk1:
        with Locations(Location((-15.106342554, 0, 0), (0, 0, 270))):
            Circle(SKETCH5_R)
    cut_extrude2_tool1 = extrude(cut_extrude2_sk1.sketch, amount=-CUT_EXTRUDE2_REACH, mode=Mode.PRIVATE) & part.part
    # Sketch5 → Cut-Extrude2 (cut, up to next)
    with BuildSketch(Plane(origin=(0, 3, 0), x_dir=(1, 0, 0), z_dir=(0, 1, 0)), mode=Mode.PRIVATE) as cut_extrude2_sk2:
        with Locations(Location((-5.106342554, 0, 0), (0, 0, 270))):
            Circle(SKETCH5_R)
    cut_extrude2_tool2 = extrude(cut_extrude2_sk2.sketch, amount=-CUT_EXTRUDE2_REACH, mode=Mode.PRIVATE) & part.part
    # Sketch5 → Cut-Extrude2 (cut, up to next)
    with BuildSketch(Plane(origin=(0, 3, 0), x_dir=(1, 0, 0), z_dir=(0, 1, 0)), mode=Mode.PRIVATE) as cut_extrude2_sk3:
        with Locations(Location((-10.106342554, 0, 0), (0, 0, 270))):
            Circle(SKETCH5_R_2)
    cut_extrude2_tool3 = extrude(cut_extrude2_sk3.sketch, amount=-CUT_EXTRUDE2_REACH, mode=Mode.PRIVATE) & part.part
    add(cut_extrude2_tool1.solids().sort_by_distance((-15.106343, 3, 0))[0], mode=Mode.SUBTRACT)
    add(cut_extrude2_tool2.solids().sort_by_distance((-5.106343, 3, 0))[0], mode=Mode.SUBTRACT)
    add(cut_extrude2_tool3.solids().sort_by_distance((-10.106343, 3, 0))[0], mode=Mode.SUBTRACT)


solid = part.part
